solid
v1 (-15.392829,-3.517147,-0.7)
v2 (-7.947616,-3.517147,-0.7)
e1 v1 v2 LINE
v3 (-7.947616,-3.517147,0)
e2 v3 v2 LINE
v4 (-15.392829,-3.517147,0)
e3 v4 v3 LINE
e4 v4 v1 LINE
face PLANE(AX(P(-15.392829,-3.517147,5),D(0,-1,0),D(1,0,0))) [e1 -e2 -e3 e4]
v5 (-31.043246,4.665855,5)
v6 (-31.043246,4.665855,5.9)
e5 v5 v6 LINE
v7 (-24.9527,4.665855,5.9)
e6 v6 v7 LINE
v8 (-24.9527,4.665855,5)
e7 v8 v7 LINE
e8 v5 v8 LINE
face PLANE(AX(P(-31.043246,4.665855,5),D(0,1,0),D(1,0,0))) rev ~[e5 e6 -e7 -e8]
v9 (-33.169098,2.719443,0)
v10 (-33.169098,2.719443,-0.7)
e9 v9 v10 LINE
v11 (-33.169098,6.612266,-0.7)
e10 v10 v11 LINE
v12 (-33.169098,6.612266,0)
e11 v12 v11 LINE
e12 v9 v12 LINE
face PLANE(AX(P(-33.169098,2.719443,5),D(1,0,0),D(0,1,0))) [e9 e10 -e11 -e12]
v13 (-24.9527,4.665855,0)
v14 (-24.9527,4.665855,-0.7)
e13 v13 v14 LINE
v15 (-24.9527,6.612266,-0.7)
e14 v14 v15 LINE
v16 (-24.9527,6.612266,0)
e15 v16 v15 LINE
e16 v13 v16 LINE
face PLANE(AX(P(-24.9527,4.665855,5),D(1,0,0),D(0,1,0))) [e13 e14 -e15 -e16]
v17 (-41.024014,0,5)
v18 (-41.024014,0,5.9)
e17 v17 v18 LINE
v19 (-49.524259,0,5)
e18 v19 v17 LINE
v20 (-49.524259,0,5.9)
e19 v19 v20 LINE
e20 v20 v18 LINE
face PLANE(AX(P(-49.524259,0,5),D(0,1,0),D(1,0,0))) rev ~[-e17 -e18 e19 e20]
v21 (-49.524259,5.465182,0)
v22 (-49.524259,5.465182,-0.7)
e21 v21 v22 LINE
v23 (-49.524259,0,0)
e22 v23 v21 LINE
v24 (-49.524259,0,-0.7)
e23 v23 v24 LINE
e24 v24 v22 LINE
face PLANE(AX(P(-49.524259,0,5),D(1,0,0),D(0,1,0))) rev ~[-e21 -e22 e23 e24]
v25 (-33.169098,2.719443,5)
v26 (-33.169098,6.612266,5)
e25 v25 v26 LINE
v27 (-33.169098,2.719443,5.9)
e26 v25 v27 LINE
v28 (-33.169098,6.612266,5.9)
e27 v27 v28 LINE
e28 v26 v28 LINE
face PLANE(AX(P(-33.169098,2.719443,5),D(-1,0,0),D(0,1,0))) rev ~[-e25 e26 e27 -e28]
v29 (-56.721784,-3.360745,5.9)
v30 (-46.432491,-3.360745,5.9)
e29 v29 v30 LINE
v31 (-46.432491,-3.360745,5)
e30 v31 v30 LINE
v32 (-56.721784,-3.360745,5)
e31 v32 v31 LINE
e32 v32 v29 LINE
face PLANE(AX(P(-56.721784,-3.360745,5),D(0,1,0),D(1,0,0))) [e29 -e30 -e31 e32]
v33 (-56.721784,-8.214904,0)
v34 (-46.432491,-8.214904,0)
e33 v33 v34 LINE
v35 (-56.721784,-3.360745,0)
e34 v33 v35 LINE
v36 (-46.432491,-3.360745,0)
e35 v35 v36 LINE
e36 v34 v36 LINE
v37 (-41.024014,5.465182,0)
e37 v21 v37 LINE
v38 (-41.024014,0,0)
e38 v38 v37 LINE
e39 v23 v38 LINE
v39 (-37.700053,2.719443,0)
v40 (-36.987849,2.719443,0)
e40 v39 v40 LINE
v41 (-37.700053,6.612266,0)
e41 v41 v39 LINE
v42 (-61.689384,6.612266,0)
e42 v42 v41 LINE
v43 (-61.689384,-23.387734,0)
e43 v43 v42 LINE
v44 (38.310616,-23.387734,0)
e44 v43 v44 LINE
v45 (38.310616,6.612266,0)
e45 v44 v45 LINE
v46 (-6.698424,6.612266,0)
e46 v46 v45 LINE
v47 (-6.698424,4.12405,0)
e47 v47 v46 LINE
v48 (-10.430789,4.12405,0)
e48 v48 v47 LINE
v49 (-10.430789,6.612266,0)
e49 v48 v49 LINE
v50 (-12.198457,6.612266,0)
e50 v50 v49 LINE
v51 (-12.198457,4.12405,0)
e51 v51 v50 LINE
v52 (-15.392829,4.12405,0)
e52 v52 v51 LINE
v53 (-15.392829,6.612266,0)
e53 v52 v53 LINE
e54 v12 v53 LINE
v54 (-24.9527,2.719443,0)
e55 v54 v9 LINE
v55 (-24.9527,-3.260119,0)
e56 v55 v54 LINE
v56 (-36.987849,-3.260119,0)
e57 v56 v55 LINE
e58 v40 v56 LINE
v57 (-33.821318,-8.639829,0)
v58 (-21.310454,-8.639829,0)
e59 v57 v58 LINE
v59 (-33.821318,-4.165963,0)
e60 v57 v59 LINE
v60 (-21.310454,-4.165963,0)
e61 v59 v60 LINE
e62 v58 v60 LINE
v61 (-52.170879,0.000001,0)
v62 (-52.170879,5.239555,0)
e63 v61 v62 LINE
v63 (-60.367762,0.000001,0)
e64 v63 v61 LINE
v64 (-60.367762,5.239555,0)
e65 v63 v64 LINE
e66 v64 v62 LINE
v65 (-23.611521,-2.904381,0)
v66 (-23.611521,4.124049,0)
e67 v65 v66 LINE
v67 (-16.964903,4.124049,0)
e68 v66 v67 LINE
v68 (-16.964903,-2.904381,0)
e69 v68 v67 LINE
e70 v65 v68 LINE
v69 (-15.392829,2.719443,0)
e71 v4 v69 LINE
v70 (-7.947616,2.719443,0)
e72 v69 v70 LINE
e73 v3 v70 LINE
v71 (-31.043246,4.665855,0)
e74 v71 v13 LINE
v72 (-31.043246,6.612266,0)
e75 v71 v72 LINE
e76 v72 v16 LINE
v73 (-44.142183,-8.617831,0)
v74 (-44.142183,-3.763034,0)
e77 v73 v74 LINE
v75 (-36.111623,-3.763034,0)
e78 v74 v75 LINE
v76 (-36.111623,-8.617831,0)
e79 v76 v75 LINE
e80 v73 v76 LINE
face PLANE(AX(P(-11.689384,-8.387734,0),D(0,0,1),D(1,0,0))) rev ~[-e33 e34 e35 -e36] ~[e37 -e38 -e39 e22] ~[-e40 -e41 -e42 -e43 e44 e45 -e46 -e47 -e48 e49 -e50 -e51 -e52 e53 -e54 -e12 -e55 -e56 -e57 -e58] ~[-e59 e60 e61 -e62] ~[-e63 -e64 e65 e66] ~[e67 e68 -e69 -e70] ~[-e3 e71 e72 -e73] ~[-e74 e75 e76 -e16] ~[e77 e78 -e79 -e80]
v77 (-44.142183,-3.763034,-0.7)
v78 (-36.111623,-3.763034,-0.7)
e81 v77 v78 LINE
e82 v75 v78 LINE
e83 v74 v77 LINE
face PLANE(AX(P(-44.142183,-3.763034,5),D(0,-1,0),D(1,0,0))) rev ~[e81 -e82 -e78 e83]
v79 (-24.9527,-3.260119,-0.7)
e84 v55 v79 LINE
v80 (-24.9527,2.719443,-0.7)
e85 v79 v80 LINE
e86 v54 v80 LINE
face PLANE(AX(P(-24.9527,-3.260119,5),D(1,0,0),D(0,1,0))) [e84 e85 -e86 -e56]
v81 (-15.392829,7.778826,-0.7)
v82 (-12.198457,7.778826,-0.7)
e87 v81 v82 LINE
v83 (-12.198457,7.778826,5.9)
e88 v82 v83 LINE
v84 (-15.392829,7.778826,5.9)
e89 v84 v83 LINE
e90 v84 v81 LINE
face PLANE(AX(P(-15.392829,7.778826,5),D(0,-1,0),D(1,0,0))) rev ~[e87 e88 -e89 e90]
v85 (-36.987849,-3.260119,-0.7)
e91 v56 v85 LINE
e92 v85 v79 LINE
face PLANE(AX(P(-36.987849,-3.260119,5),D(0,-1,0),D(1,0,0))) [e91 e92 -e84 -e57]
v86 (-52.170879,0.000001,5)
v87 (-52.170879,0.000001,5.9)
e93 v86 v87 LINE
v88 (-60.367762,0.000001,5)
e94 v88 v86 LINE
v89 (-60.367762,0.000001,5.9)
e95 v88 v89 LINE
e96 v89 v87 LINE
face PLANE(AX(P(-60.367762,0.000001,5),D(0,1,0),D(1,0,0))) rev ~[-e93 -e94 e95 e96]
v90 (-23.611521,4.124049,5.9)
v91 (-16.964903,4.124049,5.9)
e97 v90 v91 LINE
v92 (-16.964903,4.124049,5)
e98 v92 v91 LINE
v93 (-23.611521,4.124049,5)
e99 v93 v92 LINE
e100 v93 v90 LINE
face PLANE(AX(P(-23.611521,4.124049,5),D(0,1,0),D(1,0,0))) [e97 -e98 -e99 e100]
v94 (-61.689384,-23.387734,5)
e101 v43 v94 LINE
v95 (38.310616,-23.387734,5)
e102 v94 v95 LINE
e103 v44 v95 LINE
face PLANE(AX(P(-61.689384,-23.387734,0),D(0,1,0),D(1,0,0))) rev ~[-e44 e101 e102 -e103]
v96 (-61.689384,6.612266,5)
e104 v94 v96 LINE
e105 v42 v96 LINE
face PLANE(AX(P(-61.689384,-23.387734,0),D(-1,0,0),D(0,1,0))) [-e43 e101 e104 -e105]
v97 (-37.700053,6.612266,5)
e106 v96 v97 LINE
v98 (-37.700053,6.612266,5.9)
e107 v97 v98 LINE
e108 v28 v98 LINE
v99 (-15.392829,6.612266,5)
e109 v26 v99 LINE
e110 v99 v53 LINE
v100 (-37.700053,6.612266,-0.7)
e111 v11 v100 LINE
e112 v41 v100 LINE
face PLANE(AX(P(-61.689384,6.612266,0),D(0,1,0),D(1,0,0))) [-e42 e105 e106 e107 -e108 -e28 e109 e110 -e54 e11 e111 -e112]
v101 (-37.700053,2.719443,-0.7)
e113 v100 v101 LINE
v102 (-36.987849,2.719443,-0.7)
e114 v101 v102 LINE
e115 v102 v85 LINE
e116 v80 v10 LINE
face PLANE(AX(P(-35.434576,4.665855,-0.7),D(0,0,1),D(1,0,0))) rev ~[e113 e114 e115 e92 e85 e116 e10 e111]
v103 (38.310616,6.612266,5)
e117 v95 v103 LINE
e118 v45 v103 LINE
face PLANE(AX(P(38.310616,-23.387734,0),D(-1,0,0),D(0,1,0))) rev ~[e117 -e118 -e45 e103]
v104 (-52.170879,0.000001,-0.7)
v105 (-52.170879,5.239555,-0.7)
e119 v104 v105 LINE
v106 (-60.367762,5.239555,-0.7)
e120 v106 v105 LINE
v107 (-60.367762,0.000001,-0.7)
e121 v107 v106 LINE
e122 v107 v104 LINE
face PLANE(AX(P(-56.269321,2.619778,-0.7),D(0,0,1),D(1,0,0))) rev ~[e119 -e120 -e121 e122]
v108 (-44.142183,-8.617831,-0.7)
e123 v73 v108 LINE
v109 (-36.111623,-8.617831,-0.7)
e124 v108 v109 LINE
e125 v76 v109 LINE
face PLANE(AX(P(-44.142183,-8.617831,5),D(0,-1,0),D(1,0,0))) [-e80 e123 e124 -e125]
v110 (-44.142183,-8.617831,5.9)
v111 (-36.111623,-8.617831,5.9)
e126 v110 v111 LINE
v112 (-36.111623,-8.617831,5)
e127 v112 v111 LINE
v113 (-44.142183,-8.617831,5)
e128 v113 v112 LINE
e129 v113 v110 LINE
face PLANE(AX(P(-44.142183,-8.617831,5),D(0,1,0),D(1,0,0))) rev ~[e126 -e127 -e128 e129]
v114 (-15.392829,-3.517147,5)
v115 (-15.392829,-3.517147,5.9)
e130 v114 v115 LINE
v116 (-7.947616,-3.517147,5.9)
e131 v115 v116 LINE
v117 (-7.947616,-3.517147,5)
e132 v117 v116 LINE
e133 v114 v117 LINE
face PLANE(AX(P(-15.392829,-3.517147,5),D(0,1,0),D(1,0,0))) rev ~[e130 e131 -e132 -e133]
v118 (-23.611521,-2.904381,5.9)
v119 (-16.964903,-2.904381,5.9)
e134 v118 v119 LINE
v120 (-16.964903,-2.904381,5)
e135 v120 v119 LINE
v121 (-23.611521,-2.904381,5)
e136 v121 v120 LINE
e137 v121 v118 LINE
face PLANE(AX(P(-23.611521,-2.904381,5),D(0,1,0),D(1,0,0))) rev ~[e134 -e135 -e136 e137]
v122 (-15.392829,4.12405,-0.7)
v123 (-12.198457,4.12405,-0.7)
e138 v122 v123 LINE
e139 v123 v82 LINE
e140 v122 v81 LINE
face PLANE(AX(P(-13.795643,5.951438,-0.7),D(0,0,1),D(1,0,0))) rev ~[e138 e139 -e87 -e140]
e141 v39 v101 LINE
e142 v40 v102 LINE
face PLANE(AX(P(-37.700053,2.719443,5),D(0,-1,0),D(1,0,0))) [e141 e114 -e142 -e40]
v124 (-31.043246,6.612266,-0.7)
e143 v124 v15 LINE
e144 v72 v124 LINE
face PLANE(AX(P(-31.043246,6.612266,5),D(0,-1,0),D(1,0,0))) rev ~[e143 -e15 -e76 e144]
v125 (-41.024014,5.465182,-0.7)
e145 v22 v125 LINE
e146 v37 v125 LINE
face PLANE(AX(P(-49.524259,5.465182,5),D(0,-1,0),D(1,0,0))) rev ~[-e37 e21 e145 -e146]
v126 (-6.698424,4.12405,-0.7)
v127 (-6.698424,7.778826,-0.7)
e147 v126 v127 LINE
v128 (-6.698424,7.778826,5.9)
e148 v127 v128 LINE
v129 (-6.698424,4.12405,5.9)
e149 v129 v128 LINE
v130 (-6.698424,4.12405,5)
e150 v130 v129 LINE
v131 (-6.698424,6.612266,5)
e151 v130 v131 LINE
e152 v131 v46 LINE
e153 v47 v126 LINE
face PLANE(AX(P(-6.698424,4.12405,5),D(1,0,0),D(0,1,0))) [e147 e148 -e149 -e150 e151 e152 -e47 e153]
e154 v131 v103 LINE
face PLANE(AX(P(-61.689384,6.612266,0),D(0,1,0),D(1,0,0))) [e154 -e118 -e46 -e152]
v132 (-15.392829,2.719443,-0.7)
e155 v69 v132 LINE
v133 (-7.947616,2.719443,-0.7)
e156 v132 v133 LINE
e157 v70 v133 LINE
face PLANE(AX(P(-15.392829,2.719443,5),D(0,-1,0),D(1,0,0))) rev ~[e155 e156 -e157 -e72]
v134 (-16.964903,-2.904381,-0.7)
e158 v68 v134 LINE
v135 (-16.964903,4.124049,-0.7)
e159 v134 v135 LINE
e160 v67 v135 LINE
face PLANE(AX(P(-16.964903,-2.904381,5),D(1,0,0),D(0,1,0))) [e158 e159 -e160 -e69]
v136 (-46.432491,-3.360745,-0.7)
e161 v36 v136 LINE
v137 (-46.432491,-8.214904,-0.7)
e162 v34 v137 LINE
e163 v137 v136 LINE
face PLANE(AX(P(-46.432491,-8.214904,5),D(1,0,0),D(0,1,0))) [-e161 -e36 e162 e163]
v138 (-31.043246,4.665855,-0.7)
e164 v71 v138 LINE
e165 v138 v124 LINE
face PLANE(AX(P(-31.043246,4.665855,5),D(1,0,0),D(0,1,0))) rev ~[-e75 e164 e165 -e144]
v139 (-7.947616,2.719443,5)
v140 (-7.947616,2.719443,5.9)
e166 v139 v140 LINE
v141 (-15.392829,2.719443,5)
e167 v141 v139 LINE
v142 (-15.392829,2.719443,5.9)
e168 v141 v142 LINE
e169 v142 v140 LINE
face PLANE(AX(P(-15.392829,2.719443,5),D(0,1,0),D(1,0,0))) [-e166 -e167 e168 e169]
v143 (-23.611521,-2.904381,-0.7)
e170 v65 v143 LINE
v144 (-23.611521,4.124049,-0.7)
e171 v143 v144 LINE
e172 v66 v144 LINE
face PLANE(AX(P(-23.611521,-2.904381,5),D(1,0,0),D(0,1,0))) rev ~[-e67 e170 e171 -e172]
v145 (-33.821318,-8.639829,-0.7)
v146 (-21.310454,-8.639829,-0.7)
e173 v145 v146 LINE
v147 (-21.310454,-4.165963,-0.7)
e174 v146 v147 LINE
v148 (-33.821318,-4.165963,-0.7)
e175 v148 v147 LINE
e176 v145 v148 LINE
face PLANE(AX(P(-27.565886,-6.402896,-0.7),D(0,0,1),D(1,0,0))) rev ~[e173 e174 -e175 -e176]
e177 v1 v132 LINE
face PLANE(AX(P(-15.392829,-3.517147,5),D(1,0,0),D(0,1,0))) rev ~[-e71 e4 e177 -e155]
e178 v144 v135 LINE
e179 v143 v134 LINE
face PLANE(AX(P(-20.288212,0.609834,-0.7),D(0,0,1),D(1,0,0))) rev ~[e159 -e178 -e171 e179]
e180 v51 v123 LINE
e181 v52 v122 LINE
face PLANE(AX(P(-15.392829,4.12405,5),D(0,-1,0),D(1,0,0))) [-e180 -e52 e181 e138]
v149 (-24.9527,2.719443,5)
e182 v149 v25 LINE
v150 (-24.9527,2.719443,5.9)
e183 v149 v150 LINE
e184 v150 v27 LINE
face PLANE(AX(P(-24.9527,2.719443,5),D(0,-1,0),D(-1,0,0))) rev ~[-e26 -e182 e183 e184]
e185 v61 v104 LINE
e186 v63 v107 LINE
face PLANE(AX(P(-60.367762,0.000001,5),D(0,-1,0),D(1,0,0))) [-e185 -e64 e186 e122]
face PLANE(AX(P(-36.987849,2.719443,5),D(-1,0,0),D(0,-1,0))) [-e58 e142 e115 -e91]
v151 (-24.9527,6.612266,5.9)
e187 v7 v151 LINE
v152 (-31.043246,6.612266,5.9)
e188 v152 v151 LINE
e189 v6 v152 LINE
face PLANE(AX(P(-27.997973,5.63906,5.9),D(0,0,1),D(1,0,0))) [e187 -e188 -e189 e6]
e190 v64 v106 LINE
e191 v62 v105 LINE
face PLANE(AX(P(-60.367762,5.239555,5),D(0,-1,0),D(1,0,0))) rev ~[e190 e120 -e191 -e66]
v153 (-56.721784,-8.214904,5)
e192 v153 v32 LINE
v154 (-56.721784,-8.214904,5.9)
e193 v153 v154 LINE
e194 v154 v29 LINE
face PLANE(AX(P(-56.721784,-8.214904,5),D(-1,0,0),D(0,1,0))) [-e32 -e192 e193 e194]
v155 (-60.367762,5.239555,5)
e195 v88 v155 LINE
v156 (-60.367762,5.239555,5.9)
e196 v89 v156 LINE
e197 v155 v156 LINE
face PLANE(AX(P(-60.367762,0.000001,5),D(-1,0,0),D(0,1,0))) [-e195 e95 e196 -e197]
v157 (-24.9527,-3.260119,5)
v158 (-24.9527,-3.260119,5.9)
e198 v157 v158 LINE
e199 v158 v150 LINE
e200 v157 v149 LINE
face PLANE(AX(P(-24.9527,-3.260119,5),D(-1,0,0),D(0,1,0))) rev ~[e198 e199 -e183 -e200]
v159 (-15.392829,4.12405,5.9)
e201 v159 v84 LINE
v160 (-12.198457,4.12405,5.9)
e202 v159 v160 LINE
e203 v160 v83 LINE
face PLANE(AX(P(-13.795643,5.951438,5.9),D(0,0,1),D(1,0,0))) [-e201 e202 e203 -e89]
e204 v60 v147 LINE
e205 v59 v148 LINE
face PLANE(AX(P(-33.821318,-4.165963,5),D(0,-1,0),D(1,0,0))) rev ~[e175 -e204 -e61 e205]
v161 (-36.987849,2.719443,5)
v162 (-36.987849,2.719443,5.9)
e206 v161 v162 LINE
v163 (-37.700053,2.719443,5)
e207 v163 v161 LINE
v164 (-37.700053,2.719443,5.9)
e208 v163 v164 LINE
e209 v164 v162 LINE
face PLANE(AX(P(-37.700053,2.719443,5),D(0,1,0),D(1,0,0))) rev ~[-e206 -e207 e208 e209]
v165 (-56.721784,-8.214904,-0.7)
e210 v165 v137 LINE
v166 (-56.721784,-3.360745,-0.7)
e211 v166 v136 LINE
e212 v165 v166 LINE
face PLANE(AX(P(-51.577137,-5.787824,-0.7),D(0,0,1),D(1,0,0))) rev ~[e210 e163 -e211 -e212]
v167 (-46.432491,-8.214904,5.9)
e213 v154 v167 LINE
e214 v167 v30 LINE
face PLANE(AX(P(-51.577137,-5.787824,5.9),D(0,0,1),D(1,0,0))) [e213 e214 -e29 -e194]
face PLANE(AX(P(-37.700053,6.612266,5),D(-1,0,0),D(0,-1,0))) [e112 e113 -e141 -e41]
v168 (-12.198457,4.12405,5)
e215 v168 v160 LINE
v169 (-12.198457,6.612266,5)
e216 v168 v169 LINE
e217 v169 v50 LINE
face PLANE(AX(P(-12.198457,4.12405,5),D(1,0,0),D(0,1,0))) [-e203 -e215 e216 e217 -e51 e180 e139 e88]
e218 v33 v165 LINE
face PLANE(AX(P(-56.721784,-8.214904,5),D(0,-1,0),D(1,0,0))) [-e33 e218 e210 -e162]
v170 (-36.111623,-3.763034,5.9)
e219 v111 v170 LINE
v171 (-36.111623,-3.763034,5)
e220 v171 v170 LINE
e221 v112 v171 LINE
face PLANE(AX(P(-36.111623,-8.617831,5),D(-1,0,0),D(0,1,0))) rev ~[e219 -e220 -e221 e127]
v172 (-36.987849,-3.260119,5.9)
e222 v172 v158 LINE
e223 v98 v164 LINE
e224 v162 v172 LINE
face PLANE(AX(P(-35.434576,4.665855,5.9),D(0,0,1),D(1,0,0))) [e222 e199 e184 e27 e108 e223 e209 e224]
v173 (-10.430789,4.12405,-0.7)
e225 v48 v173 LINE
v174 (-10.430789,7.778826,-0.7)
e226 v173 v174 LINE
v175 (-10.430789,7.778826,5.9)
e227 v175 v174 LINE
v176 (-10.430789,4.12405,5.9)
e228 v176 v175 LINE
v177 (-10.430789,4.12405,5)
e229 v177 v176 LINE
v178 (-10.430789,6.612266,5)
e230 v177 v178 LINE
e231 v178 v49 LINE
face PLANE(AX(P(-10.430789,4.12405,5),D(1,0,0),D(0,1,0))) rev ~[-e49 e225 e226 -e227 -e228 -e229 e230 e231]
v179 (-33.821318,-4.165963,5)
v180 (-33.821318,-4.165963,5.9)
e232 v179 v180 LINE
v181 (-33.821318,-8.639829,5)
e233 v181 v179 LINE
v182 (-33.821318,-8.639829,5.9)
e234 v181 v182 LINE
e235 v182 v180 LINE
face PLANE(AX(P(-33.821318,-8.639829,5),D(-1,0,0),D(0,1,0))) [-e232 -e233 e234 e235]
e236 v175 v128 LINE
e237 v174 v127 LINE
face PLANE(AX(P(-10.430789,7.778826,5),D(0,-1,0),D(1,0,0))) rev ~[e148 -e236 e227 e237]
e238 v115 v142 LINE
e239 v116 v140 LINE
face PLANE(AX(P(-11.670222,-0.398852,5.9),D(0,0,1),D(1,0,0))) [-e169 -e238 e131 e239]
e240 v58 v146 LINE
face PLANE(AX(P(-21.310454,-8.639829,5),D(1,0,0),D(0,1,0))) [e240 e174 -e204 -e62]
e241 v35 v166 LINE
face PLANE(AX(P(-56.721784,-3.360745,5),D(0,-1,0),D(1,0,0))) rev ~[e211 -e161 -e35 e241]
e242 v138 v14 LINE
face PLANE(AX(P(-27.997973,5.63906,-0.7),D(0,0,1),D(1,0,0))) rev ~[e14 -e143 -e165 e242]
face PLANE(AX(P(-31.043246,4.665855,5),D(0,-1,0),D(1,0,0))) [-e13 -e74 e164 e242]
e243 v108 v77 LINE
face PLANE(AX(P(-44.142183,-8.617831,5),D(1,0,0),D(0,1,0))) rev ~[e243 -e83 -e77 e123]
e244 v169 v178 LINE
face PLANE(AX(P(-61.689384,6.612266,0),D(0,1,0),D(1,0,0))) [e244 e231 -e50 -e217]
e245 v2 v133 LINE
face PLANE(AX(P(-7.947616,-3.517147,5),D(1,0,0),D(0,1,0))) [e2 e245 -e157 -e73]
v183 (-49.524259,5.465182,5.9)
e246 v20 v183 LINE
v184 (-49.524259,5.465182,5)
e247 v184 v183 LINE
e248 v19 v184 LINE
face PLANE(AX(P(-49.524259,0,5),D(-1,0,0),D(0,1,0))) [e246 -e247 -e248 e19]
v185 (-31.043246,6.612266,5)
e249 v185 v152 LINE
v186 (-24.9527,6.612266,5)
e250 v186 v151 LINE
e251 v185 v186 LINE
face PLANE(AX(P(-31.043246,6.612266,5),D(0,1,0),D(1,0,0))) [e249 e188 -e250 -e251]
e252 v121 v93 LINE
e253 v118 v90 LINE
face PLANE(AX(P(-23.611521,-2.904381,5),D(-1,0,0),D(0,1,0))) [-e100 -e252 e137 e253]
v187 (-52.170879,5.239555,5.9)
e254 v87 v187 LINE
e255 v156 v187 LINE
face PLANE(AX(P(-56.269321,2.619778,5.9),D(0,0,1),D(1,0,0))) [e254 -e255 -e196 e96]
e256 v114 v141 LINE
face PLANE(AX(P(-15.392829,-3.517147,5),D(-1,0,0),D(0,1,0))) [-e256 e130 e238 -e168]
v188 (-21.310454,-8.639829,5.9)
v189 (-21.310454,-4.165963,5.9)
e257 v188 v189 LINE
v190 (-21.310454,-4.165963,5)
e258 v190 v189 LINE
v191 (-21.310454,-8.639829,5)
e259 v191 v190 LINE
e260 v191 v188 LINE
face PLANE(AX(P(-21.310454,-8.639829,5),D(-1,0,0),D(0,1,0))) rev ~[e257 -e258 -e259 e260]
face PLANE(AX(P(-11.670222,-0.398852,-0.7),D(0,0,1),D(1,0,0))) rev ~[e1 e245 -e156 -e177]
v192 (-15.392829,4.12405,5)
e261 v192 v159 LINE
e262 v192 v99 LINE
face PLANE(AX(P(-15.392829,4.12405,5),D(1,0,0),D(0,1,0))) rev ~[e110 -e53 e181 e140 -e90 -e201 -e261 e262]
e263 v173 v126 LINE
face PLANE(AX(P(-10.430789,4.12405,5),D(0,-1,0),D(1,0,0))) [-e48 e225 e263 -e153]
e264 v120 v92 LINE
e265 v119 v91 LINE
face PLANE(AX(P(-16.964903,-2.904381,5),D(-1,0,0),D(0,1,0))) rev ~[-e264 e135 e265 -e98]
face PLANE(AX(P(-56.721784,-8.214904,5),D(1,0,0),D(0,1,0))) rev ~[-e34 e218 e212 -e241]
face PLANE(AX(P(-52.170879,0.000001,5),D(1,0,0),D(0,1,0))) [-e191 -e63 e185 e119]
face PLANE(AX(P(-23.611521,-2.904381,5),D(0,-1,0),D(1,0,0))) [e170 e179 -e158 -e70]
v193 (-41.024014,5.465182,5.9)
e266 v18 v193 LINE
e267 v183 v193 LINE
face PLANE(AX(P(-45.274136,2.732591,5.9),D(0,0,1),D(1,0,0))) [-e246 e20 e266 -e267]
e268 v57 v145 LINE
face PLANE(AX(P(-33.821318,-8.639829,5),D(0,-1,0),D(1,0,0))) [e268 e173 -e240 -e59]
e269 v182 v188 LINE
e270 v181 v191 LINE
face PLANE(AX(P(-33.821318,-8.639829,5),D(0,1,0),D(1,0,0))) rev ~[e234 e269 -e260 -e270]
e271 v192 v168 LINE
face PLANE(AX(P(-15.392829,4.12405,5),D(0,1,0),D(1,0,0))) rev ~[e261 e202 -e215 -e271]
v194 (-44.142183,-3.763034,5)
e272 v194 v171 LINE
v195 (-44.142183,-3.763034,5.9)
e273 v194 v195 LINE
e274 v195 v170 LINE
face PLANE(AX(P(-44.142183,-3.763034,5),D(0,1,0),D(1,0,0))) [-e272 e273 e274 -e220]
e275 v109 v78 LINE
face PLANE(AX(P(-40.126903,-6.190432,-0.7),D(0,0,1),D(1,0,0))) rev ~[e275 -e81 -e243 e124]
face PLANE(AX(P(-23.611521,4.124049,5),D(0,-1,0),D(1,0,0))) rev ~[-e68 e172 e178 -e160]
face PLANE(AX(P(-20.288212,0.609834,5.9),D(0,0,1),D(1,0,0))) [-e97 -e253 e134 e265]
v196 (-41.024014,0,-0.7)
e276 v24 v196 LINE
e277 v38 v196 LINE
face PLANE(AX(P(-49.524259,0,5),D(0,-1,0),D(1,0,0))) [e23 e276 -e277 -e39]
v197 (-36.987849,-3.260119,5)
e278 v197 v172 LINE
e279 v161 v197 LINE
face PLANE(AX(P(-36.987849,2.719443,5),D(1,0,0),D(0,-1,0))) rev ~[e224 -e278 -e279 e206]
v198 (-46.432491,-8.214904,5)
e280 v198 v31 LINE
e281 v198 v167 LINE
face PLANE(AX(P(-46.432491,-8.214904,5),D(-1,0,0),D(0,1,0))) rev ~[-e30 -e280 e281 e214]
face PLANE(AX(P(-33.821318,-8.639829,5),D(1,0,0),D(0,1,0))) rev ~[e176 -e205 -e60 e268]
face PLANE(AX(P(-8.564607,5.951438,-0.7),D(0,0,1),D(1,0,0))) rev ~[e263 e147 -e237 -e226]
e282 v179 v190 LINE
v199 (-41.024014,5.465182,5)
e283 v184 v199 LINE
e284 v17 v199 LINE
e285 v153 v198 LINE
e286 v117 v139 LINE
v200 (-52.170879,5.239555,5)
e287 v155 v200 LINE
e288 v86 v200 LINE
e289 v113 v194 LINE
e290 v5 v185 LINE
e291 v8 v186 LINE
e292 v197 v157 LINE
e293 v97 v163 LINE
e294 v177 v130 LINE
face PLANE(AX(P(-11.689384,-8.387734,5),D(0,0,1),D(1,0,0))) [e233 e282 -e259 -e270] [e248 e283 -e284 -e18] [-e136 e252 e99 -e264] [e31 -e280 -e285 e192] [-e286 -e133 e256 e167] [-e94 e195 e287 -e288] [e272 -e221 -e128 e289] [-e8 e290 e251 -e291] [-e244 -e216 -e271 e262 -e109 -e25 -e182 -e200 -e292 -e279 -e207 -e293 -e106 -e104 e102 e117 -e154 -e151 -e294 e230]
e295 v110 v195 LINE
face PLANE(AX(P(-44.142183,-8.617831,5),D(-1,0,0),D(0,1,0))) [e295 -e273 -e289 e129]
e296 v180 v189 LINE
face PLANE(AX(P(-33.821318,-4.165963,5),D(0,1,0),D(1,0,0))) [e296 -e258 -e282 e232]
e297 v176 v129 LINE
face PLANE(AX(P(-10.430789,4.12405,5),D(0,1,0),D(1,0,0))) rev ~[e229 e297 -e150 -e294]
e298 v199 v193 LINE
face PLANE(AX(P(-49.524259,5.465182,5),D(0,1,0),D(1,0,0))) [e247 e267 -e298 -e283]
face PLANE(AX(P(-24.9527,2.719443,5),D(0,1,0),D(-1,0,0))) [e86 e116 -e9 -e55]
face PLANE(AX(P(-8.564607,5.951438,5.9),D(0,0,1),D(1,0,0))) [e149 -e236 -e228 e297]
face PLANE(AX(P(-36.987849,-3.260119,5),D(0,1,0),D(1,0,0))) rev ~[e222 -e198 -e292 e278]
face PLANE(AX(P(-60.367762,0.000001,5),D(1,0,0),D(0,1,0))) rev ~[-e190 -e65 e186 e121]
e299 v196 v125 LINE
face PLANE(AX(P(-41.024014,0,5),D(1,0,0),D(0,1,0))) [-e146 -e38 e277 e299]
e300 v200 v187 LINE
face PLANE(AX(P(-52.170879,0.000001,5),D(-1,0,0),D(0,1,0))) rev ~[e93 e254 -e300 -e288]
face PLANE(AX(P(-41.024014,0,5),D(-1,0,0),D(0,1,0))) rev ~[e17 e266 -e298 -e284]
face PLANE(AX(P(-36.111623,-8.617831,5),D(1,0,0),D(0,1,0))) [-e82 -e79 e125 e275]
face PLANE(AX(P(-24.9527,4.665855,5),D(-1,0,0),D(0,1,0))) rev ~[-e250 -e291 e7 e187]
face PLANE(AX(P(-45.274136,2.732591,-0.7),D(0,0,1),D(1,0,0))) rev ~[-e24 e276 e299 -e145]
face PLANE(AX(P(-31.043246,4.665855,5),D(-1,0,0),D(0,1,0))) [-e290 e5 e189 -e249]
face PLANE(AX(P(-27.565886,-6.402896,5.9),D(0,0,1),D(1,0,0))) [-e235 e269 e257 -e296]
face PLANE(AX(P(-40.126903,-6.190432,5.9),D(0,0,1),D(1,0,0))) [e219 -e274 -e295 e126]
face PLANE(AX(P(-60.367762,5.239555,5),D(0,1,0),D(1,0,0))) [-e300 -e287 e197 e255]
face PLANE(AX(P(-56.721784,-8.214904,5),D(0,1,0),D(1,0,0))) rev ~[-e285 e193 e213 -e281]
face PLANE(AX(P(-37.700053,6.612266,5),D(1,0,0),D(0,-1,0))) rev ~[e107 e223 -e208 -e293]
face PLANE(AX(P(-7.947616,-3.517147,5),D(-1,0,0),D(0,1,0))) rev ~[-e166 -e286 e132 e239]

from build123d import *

# Parameters (mm, degrees)
F0_W          = 100
F0_H          = 30
F1_DEPTH      = 5
F2_W          = 8.196883
F2_H          = 5.239555
F2_W_2        = 10.289293
F2_H_2        = 4.854159
F2_W_3        = 8.500245
F2_H_3        = 5.465182
F2_W_4        = 8.03056
F2_H_4        = 4.854797
F2_W_5        = 12.510864
F2_H_5        = 4.473866
F2_W_6        = 6.646618
F2_H_6        = 7.028431
F2_W_7        = 6.090546
F2_H_7        = 1.946411
F2_W_8        = 7.445213
F2_H_8        = 6.23659
F2_W_9        = 3.194372
F2_H_9        = 3.654776
F2_W_10       = 3.732365
F3_DEPTH      = 0.9
F3_DEPTH_BACK = 5.7


with BuildPart() as f1:
    # F0 (on Top) → F1 (new body)
    with BuildSketch(Plane.XY):
        with Locations((-11.689384, -8.387734)):
            Rectangle(F0_W, F0_H)
    extrude(amount=F1_DEPTH)

    # F2 (on face) → F3 (join, two sides)
    with BuildSketch(Plane.XY.offset(5)) as f3_sk:
        with Locations((-56.269321, 2.619778)):
            Rectangle(F2_W, F2_H)
        with Locations((-51.577137, -5.787824)):
            Rectangle(F2_W_2, F2_H_2)
        with Locations((-45.274136, 2.732591)):
            Rectangle(F2_W_3, F2_H_3)
        Polygon((-37.700053, 2.719443), (-36.987849, 2.719443), (-33.169098, 2.719443), (-33.169098, 6.612266), (-37.700053, 6.612266), align=None)
        Polygon((-33.169098, 2.719443), (-36.987849, 2.719443), (-36.987849, -3.260119), (-24.9527, -3.260119), (-24.9527, 2.719443), align=None)
        with Locations((-40.126903, -6.190432)):
            Rectangle(F2_W_4, F2_H_4)
        with Locations((-27.565886, -6.402896)):
            Rectangle(F2_W_5, F2_H_5)
        with Locations((-20.288212, 0.609834)):
            Rectangle(F2_W_6, F2_H_6)
        with Locations((-27.997973, 5.63906)):
            Rectangle(F2_W_7, F2_H_7)
        with Locations((-11.670222, -0.398852)):
            Rectangle(F2_W_8, F2_H_8)
        with Locations((-13.795643, 5.951438)):
            Rectangle(F2_W_9, F2_H_9)
        with Locations((-8.564607, 5.951438)):
            Rectangle(F2_W_10, F2_H_9)
    extrude(amount=F3_DEPTH)
    extrude(f3_sk.sketch, amount=-F3_DEPTH_BACK)


solid = f1.part
